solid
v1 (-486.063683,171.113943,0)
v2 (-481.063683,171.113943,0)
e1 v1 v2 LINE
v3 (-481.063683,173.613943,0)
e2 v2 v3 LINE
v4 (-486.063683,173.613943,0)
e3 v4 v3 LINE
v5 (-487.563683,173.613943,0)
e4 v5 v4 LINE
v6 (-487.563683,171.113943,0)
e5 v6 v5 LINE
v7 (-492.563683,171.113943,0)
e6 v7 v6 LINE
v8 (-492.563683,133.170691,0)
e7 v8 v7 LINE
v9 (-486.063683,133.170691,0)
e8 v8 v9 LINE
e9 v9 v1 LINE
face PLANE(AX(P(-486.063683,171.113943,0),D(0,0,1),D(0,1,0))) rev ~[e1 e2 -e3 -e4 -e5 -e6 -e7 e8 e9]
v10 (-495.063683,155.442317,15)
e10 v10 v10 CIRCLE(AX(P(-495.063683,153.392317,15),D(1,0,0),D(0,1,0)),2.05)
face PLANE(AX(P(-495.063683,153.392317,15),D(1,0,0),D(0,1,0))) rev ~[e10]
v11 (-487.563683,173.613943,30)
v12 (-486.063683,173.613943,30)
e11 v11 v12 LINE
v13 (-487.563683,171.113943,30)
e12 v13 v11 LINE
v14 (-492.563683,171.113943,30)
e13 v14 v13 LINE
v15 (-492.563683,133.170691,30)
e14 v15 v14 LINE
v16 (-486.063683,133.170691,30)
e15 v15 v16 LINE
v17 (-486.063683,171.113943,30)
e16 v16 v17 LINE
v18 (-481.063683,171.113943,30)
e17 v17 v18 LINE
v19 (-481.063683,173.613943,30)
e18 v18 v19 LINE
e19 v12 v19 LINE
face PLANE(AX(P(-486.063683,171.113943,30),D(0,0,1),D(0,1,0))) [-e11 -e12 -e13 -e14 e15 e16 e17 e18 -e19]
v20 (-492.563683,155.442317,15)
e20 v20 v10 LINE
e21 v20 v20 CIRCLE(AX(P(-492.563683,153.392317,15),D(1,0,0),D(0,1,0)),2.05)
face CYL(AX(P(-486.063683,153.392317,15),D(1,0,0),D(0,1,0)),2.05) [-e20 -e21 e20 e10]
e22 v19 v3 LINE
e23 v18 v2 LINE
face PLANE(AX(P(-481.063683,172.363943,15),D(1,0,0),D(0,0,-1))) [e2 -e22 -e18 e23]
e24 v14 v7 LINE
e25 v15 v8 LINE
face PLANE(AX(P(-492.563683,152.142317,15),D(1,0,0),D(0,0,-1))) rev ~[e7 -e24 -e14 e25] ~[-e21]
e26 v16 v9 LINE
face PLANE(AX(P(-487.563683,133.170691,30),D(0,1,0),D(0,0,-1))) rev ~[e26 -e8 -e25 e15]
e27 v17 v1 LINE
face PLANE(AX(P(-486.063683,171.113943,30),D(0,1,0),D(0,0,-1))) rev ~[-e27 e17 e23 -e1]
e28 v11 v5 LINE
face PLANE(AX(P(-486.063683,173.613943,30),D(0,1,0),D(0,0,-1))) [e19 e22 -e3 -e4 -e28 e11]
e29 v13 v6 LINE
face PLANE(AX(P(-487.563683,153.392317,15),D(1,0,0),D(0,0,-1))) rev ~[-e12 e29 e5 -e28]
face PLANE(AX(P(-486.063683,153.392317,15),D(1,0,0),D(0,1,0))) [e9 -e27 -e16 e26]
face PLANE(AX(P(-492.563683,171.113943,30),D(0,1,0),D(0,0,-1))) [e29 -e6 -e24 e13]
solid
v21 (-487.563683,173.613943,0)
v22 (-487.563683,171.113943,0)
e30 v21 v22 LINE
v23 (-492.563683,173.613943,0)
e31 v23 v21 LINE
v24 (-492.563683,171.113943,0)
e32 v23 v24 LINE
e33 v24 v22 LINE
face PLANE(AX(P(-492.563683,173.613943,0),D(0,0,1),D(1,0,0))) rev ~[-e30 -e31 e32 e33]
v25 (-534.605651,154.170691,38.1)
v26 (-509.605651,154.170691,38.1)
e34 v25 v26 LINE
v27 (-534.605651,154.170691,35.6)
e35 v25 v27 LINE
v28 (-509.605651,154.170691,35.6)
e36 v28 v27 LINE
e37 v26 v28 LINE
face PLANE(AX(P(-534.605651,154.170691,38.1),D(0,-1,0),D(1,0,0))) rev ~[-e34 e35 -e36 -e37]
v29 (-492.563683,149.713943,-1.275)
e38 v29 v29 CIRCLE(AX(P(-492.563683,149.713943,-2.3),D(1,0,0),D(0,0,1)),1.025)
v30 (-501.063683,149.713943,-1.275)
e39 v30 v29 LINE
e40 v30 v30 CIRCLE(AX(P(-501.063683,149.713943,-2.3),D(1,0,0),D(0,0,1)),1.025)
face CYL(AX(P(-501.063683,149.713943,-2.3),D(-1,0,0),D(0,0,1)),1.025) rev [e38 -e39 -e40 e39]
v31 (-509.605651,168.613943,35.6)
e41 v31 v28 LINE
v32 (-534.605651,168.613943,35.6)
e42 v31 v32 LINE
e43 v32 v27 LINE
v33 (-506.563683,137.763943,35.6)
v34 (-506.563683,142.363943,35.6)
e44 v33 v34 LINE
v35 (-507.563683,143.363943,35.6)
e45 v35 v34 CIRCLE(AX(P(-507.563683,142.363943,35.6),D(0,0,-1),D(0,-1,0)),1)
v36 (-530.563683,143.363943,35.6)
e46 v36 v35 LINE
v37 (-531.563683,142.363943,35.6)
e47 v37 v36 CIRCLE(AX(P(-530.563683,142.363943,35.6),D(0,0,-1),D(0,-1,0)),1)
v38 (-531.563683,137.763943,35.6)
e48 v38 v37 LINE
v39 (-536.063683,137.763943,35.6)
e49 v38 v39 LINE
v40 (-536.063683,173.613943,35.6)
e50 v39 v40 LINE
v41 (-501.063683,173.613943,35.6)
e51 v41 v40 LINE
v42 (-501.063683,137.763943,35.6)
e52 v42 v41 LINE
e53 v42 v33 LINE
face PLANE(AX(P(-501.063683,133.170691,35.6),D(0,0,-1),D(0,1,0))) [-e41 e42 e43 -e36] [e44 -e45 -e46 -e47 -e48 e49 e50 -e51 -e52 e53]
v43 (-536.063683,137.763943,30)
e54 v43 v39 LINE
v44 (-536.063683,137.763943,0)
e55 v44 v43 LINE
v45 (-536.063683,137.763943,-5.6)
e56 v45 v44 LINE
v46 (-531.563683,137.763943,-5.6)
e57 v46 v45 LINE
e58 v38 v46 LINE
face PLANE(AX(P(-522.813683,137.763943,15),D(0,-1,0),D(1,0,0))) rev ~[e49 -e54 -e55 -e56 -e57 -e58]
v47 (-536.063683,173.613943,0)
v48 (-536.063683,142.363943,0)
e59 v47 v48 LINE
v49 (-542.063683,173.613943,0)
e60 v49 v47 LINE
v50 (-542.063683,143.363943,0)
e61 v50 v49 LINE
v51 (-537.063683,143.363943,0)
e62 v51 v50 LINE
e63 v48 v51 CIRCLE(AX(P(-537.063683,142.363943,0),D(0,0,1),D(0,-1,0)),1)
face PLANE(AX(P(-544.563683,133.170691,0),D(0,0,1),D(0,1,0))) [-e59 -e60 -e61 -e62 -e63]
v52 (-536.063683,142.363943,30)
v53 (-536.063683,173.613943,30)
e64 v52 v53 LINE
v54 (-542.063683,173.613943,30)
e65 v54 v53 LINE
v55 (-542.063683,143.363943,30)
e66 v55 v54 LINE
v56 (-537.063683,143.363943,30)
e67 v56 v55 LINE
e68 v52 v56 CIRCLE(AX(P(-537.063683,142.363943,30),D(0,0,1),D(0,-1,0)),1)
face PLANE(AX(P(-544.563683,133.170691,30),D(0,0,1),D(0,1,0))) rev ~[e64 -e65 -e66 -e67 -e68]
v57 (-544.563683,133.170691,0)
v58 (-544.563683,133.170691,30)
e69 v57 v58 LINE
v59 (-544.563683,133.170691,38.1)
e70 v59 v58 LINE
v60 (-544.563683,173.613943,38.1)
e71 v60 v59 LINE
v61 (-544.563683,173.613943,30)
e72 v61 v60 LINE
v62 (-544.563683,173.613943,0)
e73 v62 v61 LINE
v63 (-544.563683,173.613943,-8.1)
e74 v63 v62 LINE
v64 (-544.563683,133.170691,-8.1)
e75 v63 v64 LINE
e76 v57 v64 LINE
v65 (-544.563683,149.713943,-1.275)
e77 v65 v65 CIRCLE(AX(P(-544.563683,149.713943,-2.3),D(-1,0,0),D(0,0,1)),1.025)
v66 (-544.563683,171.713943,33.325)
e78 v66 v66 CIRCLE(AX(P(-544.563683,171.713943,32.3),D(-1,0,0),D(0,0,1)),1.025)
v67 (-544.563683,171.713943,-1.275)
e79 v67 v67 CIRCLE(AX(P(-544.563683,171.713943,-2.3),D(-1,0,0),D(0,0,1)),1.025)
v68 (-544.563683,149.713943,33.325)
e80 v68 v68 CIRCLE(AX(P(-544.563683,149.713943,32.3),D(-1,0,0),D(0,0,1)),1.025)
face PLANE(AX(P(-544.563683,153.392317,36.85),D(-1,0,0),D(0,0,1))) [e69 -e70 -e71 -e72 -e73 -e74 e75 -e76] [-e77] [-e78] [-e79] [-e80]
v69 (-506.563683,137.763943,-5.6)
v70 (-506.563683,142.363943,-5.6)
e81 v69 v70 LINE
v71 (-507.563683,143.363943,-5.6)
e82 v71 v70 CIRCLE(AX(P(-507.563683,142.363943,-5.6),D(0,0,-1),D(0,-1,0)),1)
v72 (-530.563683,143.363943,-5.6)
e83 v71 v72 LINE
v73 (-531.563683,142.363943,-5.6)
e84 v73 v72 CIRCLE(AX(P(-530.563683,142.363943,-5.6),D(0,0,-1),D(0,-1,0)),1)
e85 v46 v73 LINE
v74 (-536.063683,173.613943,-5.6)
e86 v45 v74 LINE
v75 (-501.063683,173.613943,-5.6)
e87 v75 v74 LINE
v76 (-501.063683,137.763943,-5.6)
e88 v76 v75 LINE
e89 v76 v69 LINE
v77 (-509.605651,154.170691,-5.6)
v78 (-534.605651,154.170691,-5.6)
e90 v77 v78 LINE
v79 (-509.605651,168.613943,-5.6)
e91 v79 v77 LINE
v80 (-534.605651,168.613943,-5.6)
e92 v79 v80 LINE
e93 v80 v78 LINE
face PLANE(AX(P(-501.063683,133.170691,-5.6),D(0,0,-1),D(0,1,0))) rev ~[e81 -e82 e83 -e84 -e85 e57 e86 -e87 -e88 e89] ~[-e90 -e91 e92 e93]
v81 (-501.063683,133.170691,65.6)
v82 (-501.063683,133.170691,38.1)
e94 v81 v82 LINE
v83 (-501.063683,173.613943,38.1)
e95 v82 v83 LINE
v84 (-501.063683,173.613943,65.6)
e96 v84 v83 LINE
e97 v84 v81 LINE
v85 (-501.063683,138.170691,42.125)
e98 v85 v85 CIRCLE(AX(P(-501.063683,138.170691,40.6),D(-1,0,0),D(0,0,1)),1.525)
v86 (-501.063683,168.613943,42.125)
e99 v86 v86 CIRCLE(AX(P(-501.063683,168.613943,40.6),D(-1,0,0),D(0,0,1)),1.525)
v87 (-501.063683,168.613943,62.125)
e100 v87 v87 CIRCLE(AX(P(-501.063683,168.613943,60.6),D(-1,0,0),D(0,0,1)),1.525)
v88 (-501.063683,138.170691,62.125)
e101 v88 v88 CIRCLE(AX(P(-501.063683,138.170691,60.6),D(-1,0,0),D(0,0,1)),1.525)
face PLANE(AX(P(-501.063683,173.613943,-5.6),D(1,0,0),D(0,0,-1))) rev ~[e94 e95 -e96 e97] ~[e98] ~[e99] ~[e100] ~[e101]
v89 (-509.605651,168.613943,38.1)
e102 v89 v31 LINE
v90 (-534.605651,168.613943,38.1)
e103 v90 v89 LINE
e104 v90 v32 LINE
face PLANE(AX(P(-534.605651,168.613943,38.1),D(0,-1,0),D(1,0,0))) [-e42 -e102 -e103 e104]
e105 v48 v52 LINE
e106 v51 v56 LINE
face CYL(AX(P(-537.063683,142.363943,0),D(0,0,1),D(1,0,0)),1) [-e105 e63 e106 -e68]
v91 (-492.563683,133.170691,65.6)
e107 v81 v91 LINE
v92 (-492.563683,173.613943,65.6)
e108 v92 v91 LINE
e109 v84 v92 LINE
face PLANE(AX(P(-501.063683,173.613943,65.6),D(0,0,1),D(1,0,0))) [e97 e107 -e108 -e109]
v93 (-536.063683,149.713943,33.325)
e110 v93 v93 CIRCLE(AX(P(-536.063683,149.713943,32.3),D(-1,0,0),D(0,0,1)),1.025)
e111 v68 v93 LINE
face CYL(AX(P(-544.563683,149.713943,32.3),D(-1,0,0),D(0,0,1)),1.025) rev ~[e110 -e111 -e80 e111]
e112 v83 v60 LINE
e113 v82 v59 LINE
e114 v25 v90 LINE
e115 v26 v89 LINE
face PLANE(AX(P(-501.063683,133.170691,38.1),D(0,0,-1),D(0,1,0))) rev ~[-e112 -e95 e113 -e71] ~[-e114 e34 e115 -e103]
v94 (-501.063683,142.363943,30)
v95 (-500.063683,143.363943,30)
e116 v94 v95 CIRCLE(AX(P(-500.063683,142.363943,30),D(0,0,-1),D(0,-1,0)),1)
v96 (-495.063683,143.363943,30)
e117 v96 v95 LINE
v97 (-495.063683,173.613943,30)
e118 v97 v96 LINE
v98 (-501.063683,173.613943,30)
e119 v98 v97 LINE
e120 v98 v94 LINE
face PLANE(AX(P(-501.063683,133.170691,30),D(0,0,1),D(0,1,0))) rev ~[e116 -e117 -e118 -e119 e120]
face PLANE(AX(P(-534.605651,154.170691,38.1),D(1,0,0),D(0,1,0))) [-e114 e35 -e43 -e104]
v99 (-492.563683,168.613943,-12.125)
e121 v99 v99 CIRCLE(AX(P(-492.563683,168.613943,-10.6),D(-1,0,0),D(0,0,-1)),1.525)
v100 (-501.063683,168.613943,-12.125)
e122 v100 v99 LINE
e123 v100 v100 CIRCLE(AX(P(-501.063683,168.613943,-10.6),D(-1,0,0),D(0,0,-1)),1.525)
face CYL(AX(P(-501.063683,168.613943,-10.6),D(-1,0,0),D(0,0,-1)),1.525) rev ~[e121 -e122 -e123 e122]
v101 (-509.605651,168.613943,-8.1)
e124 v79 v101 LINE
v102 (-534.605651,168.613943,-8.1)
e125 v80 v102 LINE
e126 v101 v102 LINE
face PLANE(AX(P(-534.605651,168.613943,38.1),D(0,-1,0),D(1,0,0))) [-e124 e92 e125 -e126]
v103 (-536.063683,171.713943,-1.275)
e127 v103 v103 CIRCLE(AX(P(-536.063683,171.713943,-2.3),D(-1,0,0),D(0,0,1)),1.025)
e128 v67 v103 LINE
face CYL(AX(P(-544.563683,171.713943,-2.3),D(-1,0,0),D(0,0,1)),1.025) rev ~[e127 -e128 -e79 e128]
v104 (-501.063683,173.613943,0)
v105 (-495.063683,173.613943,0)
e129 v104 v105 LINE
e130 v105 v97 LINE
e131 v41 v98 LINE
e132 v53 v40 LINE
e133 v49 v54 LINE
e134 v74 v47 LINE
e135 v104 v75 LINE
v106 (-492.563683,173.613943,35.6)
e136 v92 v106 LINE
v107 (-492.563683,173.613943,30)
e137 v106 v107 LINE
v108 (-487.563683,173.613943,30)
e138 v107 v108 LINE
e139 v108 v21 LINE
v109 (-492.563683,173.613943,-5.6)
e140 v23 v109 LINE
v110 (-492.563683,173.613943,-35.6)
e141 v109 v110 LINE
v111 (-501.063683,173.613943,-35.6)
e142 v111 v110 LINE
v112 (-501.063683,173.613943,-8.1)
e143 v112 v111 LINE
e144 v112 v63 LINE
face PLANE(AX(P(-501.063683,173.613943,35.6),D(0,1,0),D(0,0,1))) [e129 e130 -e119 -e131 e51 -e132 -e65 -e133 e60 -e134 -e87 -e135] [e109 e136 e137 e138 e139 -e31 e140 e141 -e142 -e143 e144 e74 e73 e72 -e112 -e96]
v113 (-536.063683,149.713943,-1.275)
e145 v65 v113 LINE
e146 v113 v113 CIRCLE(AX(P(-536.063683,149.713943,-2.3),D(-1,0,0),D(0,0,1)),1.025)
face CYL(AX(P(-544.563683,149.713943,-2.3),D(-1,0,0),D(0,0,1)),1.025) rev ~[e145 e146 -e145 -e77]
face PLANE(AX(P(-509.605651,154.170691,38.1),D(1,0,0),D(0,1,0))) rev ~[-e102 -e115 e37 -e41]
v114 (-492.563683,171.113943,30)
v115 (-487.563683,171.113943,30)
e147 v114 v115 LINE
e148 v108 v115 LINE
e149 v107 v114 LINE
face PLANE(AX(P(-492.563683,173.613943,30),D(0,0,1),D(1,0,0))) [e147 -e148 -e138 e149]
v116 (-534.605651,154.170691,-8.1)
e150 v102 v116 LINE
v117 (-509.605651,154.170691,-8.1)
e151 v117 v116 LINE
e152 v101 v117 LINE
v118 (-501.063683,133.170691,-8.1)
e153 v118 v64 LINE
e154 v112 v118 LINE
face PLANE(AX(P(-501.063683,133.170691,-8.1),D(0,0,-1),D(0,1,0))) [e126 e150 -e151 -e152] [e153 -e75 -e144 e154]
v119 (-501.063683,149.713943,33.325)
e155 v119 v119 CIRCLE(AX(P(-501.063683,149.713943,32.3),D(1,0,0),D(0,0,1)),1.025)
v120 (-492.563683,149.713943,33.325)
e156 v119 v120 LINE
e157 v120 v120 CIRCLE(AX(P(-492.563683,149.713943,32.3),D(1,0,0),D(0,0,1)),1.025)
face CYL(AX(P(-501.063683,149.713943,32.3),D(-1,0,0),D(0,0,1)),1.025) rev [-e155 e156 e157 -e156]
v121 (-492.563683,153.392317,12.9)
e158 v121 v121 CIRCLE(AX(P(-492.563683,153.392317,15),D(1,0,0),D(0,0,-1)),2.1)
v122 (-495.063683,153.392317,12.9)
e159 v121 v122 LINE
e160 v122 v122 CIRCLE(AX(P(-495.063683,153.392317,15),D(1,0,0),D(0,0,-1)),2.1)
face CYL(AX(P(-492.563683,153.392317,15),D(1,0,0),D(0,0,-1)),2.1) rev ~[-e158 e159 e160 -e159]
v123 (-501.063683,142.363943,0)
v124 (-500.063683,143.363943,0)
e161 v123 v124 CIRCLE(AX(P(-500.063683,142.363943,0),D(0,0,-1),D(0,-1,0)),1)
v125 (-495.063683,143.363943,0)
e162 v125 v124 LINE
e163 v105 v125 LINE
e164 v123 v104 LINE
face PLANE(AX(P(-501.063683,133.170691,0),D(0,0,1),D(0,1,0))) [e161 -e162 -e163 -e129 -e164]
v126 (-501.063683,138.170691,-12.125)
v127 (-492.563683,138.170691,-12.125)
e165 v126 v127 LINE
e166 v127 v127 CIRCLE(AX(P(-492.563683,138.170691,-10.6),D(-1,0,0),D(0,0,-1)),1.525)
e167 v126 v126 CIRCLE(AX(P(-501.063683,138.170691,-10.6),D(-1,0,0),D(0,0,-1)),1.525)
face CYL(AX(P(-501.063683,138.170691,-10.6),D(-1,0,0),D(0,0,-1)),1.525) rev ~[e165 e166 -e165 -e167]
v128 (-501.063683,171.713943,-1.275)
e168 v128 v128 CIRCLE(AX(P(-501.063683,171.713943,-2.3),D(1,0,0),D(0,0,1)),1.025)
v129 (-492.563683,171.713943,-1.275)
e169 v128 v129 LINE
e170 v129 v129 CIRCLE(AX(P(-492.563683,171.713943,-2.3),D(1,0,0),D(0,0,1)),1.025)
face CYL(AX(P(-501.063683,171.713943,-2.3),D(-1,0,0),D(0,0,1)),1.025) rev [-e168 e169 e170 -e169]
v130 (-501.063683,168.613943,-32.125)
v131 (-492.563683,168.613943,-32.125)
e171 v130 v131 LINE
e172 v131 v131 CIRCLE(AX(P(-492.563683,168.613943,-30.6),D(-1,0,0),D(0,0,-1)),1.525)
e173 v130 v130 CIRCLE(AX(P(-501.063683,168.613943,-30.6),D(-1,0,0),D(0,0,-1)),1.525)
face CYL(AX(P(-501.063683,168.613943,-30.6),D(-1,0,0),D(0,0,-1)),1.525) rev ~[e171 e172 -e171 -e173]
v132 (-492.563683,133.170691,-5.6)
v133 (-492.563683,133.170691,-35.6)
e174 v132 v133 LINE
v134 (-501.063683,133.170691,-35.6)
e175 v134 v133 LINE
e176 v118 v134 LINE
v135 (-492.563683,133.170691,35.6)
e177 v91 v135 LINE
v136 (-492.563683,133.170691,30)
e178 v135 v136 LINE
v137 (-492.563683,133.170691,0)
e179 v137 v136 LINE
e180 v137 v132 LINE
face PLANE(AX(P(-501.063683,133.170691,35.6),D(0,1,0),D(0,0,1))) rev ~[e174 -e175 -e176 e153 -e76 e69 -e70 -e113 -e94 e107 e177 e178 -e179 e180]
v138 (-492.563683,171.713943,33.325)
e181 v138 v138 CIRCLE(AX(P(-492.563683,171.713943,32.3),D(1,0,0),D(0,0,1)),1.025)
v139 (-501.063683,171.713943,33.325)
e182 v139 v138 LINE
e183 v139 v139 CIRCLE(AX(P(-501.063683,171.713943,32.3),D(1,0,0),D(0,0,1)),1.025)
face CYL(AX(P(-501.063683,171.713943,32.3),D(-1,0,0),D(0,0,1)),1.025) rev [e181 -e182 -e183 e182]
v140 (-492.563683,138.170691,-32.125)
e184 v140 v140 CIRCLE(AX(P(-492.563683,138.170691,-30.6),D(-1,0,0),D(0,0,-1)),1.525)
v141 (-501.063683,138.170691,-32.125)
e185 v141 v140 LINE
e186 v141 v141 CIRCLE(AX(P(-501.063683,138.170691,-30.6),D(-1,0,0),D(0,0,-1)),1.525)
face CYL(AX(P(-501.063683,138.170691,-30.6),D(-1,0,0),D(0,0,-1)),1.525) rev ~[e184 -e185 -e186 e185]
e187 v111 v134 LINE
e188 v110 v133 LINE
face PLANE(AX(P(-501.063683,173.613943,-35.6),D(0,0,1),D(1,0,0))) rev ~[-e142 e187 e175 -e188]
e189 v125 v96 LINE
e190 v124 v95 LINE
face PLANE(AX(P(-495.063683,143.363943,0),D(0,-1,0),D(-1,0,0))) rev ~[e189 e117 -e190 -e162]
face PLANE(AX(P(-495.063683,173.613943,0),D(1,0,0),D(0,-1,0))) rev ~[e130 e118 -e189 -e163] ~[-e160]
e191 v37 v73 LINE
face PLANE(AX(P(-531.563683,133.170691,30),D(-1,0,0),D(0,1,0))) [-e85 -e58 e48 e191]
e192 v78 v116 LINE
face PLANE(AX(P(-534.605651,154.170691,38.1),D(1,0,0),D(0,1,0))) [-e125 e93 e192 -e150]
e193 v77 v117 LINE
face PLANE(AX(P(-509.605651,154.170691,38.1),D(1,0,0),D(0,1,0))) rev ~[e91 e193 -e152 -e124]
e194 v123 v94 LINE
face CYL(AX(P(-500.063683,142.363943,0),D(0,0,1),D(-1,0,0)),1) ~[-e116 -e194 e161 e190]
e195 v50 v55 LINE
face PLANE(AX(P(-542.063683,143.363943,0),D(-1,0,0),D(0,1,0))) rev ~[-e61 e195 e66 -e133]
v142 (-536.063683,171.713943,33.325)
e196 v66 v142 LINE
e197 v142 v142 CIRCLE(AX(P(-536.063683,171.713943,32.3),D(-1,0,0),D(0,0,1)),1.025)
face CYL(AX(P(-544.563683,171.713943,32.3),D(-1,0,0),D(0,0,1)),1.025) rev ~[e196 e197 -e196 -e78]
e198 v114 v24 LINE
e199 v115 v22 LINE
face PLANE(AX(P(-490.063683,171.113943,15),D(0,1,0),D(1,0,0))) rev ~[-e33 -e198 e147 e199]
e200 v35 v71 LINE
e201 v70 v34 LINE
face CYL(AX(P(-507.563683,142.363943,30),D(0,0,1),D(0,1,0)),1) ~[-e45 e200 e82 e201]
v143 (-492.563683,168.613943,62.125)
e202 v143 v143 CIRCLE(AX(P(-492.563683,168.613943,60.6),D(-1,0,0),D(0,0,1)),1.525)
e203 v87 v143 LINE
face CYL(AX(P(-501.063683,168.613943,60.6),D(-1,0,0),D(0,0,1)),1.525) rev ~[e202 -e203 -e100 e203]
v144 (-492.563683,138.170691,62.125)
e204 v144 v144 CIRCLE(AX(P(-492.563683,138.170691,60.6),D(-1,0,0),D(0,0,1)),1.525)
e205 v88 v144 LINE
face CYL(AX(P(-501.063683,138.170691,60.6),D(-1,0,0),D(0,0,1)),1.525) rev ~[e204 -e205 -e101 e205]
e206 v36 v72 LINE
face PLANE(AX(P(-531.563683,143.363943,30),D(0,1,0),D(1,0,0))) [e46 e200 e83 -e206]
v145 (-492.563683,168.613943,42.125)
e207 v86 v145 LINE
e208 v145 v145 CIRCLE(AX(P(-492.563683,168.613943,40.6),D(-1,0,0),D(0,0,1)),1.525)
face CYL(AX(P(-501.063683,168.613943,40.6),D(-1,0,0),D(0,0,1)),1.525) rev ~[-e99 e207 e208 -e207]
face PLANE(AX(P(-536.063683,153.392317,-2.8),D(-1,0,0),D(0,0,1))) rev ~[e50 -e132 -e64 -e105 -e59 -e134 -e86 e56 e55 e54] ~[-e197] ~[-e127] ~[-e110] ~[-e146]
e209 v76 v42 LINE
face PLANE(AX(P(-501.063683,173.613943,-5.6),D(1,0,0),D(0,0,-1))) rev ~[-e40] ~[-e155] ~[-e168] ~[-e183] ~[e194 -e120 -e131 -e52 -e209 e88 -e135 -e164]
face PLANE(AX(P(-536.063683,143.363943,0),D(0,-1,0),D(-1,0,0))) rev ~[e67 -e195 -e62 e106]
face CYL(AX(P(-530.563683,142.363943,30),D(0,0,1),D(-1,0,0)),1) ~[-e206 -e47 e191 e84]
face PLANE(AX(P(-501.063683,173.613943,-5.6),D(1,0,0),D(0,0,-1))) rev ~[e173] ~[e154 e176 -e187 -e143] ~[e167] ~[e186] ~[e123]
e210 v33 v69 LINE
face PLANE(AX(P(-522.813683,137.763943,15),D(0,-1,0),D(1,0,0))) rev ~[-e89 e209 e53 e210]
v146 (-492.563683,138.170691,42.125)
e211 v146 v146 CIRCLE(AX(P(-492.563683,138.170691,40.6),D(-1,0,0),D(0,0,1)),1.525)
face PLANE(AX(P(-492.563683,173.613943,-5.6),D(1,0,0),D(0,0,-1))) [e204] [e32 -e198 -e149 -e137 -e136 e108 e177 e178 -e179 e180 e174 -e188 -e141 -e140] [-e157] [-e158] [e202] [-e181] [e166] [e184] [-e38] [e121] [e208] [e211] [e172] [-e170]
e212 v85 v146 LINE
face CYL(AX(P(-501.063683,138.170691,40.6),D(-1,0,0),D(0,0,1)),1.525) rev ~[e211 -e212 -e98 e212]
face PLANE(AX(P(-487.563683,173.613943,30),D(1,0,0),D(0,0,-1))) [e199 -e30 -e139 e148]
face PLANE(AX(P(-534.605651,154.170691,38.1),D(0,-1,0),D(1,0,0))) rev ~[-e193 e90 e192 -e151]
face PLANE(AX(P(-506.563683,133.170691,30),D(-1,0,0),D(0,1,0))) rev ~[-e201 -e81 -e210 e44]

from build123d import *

# Parameters (mm, degrees)
BOSS_EXTRUDE1_DEPTH  = 30
SKETCH2_W            = 5.6
SKETCH2_H            = 40.443252471
SKETCH2_R            = 1.025
BOSS_EXTRUDE2_DEPTH  = 8.5
SKETCH4_W            = 25
SKETCH4_H            = 10.193252471
BOSS_EXTRUDE3_DEPTH  = 5.6
SKETCH5_W            = 25
SKETCH5_H            = 10.193252471
BOSS_EXTRUDE4_DEPTH  = 5.6
FILLET2_R            = 1
BOSS_EXTRUDE5_START  = -8.5
SKETCH6_W            = 5.6
SKETCH6_H            = 40.443252471
SKETCH6_R            = 1.025
BOSS_EXTRUDE5_DEPTH  = 8.5
FILLET3_R            = 1
SKETCH8_R            = 2.1
CUT_EXTRUDE1_DEPTH   = 8.5
SKETCH9_W            = 8.5
SKETCH9_H            = 30
BOSS_EXTRUDE6_DEPTH  = 40.443252471
SKETCH10_R           = 1.525
CUT_EXTRUDE2_DEPTH   = 191.623742611
SKETCH11_W           = 5
SKETCH11_H           = 30
BOSS_EXTRUDE7_DEPTH  = 2.5
SKETCH12_W           = 30
SKETCH12_H           = 37.943252471
BOSS_EXTRUDE8_DEPTH  = 5
SKETCH13_W           = 30
SKETCH13_H           = 40.443252471
BOSS_EXTRUDE9_DEPTH  = 1.5
SKETCH15_W           = 30
SKETCH15_H           = 2.5
BOSS_EXTRUDE10_DEPTH = 5
SKETCH17_W           = 2.5
SKETCH17_H           = 40.443252471
BOSS_EXTRUDE11_DEPTH = 43.500000004
SKETCH18_W           = 25
SKETCH18_H           = 14.443252471
CUT_EXTRUDE5_DEPTH   = 60
SKETCH19_W           = 43.500000004
SKETCH19_H           = 46.2
BOSS_EXTRUDE12_DEPTH = 4.593252471
SKETCH22_R           = 2.05
BOSS_EXTRUDE15_DEPTH = 9


with BuildPart() as part:
    # Sketch1 → Boss-Extrude1 (new body)
    with BuildSketch(Plane.XY):
        Polygon((-492.563683395, 133.170690652), (-492.563683395, 173.613943123), (-495.063683395, 173.613943123), (-495.063683395, 143.363943123), (-501.063683395, 143.363943123), (-501.063683395, 137.763943123), (-506.563683395, 137.763943123), (-506.563683395, 143.363943123), (-519.063683395, 143.363943123), (-531.563683395, 143.363943123), (-531.563683395, 137.763943123), (-536.063683395, 137.763943123), (-536.063683395, 143.363943123), (-542.063683399, 143.363943123), (-542.063683399, 173.613943123), (-544.563683399, 173.613943123), (-544.563683399, 133.170690652), align=None)
    extrude(amount=BOSS_EXTRUDE1_DEPTH)

    # Sketch2 → Boss-Extrude2 (add)
    # profile 1 of 2: a face of its own
    with BuildSketch(Plane.ZY.offset(544.563683399)):
        with Locations((-2.8, 153.392316888)):
            Rectangle(SKETCH2_W, SKETCH2_H)
        with Locations((-2.3, 171.713943123)):
            Circle(SKETCH2_R, mode=Mode.SUBTRACT)
        with Locations((-2.3, 149.713943123)):
            Circle(SKETCH2_R, mode=Mode.SUBTRACT)
    # profile 2 of 2: a face of its own
    with BuildSketch(Plane.ZY.offset(544.563683399)):
        with Locations((32.8, 153.392316888)):
            Rectangle(SKETCH2_W, SKETCH2_H)
        with Locations((32.3, 149.713943123)):
            Circle(SKETCH2_R, mode=Mode.SUBTRACT)
        with Locations((32.3, 171.713943123)):
            Circle(SKETCH2_R, mode=Mode.SUBTRACT)
    extrude(amount=-BOSS_EXTRUDE2_DEPTH)

    # Sketch4 → Boss-Extrude3 (add)
    with BuildSketch(Plane(origin=(0, 0, 0), x_dir=(-1, 0, 0), z_dir=(0, 0, -1))):
        with Locations((519.063683395, 138.267316888)):
            Rectangle(SKETCH4_W, SKETCH4_H)
    extrude(amount=BOSS_EXTRUDE3_DEPTH)

    # Sketch5 → Boss-Extrude4 (add)
    with BuildSketch(Plane.XY.offset(30)):
        with Locations((-519.063683395, 138.267316888)):
            Rectangle(SKETCH5_W, SKETCH5_H)
    extrude(amount=BOSS_EXTRUDE4_DEPTH)

    # Fillet2
    fillet2_edges = [part.edges().sort_by_distance(p)[0] for p in [
        (-531.563683395, 143.363943123, 15),
        (-506.563683395, 143.363943123, 15),
    ]]
    fillet(fillet2_edges, radius=FILLET2_R)

    # Sketch6 → Boss-Extrude5 (add)
    # profile 1 of 2: a face of its own
    with BuildSketch(Plane(origin=(-492.563683395, 0, 0), x_dir=(0, 0, -1), z_dir=(1, 0, 0)).offset(BOSS_EXTRUDE5_START)):
        with Locations((-32.8, 153.392316888)):
            Rectangle(SKETCH6_W, SKETCH6_H)
        with Locations(Location((-32.3, 171.713943123, 0), (0, 0, 180))):
            Circle(SKETCH6_R, mode=Mode.SUBTRACT)
        with Locations(Location((-32.3, 149.713943123, 0), (0, 0, 180))):
            Circle(SKETCH6_R, mode=Mode.SUBTRACT)
    # profile 2 of 2: a face of its own
    with BuildSketch(Plane(origin=(-492.563683395, 0, 0), x_dir=(0, 0, -1), z_dir=(1, 0, 0)).offset(BOSS_EXTRUDE5_START)):
        with Locations((2.8, 153.392316888)):
            Rectangle(SKETCH6_W, SKETCH6_H)
        with Locations(Location((2.3, 171.713943123, 0), (0, 0, 180))):
            Circle(SKETCH6_R, mode=Mode.SUBTRACT)
        with Locations(Location((2.3, 149.713943123, 0), (0, 0, 180))):
            Circle(SKETCH6_R, mode=Mode.SUBTRACT)
    extrude(amount=BOSS_EXTRUDE5_DEPTH)

    # Fillet3
    fillet3_edges = [part.edges().sort_by_distance(p)[0] for p in [
        (-536.063683395, 143.363943123, 15),
        (-501.063683395, 143.363943123, 15),
    ]]
    fillet(fillet3_edges, radius=FILLET3_R)

    # Sketch8 → Cut-Extrude1 (cut)
    with BuildSketch(Plane(origin=(-492.563683395, 0, 0), x_dir=(0, 0, -1), z_dir=(1, 0, 0))):
        with Locations((-15, 153.392316887)):
            Circle(SKETCH8_R)
    extrude(amount=-CUT_EXTRUDE1_DEPTH, mode=Mode.SUBTRACT)

    # Sketch9 → Boss-Extrude6 (add)
    with BuildSketch(Plane(origin=(0, 173.613943123, 0), x_dir=(1, 0, 0), z_dir=(0, 1, 0))):
        with Locations((-496.813683395, 20.6)):
            Rectangle(SKETCH9_W, SKETCH9_H)
        with Locations((-496.813683395, -50.6)):
            Rectangle(SKETCH9_W, SKETCH9_H)
    extrude(amount=-BOSS_EXTRUDE6_DEPTH)

    # Sketch10 → Cut-Extrude2 (cut, through all)
    with BuildSketch(Plane.ZY.offset(501.063683395)):
        with Locations((40.6, 168.613943123)):
            Circle(SKETCH10_R)
        with Locations((60.6, 168.613943123)):
            Circle(SKETCH10_R)
        with Locations((60.6, 138.170690652)):
            Circle(SKETCH10_R)
        with Locations((40.6, 138.170690652)):
            Circle(SKETCH10_R)
        with Locations(Location((-30.6, 168.613943123, 0), (0, 0, 180))):
            Circle(SKETCH10_R)
        with Locations(Location((-30.6, 138.170690652, 0), (0, 0, 180))):
            Circle(SKETCH10_R)
        with Locations(Location((-10.6, 138.170690652, 0), (0, 0, 180))):
            Circle(SKETCH10_R)
        with Locations(Location((-10.6, 168.613943123, 0), (0, 0, 180))):
            Circle(SKETCH10_R)
    extrude(amount=-CUT_EXTRUDE2_DEPTH, mode=Mode.SUBTRACT)

    # Sketch11 → Boss-Extrude7 (add)
    with BuildSketch(Plane(origin=(0, 173.613943123, 0), x_dir=(1, 0, 0), z_dir=(0, 1, 0))):
        with Locations((-490.063683395, -15)):
            Rectangle(SKETCH11_W, SKETCH11_H)
    extrude(amount=-BOSS_EXTRUDE7_DEPTH)

    # Sketch17 → Boss-Extrude11 (add)
    with BuildSketch(Plane.ZY.offset(501.063683395)):
        with Locations((36.85, 153.392316888)):
            Rectangle(SKETCH17_W, SKETCH17_H)
        with Locations((-6.85, 153.392316888)):
            Rectangle(SKETCH17_W, SKETCH17_H)
    extrude(amount=BOSS_EXTRUDE11_DEPTH)

    # Sketch18 → Cut-Extrude5 (cut)
    with BuildSketch(Plane.XY.offset(38.1)):
        with Locations((-522.105650898, 161.392316888)):
            Rectangle(SKETCH18_W, SKETCH18_H)
    extrude(amount=-CUT_EXTRUDE5_DEPTH, mode=Mode.SUBTRACT)

    # Sketch19 → Boss-Extrude12 (add)
    with BuildSketch(Plane.XZ.offset(-133.170690652)):
        with Locations((-522.813683397, 15)):
            Rectangle(SKETCH19_W, SKETCH19_H)
    extrude(amount=-BOSS_EXTRUDE12_DEPTH)


with BuildPart() as body_2:
    # Sketch12 → Boss-Extrude8 (new body)
    with BuildSketch(Plane(origin=(-492.563683395, 0, 0), x_dir=(0, 0, -1), z_dir=(1, 0, 0))):
        with Locations((-15, 152.142316888)):
            Rectangle(SKETCH12_W, SKETCH12_H)
    extrude(amount=BOSS_EXTRUDE8_DEPTH)

    # Sketch13 → Boss-Extrude9 (add)
    with BuildSketch(Plane(origin=(-487.563683395, 0, 0), x_dir=(0, 0, -1), z_dir=(1, 0, 0))):
        with Locations((-15, 153.392316888)):
            Rectangle(SKETCH13_W, SKETCH13_H)
    extrude(amount=BOSS_EXTRUDE9_DEPTH)

    # Sketch15 → Boss-Extrude10 (add)
    with BuildSketch(Plane(origin=(-486.063683395, 0, 0), x_dir=(0, 0, -1), z_dir=(1, 0, 0))):
        with Locations((-15, 172.363943123)):
            Rectangle(SKETCH15_W, SKETCH15_H)
    extrude(amount=BOSS_EXTRUDE10_DEPTH)

    # Sketch22 → Boss-Extrude15 (add)
    with BuildSketch(Plane(origin=(-486.063683395, 0, 0), x_dir=(0, 0, -1), z_dir=(1, 0, 0))):
        with Locations(Location((-15, 153.392316887, 0), (0, 0, 90))):
            Circle(SKETCH22_R)
    extrude(amount=-BOSS_EXTRUDE15_DEPTH)


solid = Compound([part.part, body_2.part])
